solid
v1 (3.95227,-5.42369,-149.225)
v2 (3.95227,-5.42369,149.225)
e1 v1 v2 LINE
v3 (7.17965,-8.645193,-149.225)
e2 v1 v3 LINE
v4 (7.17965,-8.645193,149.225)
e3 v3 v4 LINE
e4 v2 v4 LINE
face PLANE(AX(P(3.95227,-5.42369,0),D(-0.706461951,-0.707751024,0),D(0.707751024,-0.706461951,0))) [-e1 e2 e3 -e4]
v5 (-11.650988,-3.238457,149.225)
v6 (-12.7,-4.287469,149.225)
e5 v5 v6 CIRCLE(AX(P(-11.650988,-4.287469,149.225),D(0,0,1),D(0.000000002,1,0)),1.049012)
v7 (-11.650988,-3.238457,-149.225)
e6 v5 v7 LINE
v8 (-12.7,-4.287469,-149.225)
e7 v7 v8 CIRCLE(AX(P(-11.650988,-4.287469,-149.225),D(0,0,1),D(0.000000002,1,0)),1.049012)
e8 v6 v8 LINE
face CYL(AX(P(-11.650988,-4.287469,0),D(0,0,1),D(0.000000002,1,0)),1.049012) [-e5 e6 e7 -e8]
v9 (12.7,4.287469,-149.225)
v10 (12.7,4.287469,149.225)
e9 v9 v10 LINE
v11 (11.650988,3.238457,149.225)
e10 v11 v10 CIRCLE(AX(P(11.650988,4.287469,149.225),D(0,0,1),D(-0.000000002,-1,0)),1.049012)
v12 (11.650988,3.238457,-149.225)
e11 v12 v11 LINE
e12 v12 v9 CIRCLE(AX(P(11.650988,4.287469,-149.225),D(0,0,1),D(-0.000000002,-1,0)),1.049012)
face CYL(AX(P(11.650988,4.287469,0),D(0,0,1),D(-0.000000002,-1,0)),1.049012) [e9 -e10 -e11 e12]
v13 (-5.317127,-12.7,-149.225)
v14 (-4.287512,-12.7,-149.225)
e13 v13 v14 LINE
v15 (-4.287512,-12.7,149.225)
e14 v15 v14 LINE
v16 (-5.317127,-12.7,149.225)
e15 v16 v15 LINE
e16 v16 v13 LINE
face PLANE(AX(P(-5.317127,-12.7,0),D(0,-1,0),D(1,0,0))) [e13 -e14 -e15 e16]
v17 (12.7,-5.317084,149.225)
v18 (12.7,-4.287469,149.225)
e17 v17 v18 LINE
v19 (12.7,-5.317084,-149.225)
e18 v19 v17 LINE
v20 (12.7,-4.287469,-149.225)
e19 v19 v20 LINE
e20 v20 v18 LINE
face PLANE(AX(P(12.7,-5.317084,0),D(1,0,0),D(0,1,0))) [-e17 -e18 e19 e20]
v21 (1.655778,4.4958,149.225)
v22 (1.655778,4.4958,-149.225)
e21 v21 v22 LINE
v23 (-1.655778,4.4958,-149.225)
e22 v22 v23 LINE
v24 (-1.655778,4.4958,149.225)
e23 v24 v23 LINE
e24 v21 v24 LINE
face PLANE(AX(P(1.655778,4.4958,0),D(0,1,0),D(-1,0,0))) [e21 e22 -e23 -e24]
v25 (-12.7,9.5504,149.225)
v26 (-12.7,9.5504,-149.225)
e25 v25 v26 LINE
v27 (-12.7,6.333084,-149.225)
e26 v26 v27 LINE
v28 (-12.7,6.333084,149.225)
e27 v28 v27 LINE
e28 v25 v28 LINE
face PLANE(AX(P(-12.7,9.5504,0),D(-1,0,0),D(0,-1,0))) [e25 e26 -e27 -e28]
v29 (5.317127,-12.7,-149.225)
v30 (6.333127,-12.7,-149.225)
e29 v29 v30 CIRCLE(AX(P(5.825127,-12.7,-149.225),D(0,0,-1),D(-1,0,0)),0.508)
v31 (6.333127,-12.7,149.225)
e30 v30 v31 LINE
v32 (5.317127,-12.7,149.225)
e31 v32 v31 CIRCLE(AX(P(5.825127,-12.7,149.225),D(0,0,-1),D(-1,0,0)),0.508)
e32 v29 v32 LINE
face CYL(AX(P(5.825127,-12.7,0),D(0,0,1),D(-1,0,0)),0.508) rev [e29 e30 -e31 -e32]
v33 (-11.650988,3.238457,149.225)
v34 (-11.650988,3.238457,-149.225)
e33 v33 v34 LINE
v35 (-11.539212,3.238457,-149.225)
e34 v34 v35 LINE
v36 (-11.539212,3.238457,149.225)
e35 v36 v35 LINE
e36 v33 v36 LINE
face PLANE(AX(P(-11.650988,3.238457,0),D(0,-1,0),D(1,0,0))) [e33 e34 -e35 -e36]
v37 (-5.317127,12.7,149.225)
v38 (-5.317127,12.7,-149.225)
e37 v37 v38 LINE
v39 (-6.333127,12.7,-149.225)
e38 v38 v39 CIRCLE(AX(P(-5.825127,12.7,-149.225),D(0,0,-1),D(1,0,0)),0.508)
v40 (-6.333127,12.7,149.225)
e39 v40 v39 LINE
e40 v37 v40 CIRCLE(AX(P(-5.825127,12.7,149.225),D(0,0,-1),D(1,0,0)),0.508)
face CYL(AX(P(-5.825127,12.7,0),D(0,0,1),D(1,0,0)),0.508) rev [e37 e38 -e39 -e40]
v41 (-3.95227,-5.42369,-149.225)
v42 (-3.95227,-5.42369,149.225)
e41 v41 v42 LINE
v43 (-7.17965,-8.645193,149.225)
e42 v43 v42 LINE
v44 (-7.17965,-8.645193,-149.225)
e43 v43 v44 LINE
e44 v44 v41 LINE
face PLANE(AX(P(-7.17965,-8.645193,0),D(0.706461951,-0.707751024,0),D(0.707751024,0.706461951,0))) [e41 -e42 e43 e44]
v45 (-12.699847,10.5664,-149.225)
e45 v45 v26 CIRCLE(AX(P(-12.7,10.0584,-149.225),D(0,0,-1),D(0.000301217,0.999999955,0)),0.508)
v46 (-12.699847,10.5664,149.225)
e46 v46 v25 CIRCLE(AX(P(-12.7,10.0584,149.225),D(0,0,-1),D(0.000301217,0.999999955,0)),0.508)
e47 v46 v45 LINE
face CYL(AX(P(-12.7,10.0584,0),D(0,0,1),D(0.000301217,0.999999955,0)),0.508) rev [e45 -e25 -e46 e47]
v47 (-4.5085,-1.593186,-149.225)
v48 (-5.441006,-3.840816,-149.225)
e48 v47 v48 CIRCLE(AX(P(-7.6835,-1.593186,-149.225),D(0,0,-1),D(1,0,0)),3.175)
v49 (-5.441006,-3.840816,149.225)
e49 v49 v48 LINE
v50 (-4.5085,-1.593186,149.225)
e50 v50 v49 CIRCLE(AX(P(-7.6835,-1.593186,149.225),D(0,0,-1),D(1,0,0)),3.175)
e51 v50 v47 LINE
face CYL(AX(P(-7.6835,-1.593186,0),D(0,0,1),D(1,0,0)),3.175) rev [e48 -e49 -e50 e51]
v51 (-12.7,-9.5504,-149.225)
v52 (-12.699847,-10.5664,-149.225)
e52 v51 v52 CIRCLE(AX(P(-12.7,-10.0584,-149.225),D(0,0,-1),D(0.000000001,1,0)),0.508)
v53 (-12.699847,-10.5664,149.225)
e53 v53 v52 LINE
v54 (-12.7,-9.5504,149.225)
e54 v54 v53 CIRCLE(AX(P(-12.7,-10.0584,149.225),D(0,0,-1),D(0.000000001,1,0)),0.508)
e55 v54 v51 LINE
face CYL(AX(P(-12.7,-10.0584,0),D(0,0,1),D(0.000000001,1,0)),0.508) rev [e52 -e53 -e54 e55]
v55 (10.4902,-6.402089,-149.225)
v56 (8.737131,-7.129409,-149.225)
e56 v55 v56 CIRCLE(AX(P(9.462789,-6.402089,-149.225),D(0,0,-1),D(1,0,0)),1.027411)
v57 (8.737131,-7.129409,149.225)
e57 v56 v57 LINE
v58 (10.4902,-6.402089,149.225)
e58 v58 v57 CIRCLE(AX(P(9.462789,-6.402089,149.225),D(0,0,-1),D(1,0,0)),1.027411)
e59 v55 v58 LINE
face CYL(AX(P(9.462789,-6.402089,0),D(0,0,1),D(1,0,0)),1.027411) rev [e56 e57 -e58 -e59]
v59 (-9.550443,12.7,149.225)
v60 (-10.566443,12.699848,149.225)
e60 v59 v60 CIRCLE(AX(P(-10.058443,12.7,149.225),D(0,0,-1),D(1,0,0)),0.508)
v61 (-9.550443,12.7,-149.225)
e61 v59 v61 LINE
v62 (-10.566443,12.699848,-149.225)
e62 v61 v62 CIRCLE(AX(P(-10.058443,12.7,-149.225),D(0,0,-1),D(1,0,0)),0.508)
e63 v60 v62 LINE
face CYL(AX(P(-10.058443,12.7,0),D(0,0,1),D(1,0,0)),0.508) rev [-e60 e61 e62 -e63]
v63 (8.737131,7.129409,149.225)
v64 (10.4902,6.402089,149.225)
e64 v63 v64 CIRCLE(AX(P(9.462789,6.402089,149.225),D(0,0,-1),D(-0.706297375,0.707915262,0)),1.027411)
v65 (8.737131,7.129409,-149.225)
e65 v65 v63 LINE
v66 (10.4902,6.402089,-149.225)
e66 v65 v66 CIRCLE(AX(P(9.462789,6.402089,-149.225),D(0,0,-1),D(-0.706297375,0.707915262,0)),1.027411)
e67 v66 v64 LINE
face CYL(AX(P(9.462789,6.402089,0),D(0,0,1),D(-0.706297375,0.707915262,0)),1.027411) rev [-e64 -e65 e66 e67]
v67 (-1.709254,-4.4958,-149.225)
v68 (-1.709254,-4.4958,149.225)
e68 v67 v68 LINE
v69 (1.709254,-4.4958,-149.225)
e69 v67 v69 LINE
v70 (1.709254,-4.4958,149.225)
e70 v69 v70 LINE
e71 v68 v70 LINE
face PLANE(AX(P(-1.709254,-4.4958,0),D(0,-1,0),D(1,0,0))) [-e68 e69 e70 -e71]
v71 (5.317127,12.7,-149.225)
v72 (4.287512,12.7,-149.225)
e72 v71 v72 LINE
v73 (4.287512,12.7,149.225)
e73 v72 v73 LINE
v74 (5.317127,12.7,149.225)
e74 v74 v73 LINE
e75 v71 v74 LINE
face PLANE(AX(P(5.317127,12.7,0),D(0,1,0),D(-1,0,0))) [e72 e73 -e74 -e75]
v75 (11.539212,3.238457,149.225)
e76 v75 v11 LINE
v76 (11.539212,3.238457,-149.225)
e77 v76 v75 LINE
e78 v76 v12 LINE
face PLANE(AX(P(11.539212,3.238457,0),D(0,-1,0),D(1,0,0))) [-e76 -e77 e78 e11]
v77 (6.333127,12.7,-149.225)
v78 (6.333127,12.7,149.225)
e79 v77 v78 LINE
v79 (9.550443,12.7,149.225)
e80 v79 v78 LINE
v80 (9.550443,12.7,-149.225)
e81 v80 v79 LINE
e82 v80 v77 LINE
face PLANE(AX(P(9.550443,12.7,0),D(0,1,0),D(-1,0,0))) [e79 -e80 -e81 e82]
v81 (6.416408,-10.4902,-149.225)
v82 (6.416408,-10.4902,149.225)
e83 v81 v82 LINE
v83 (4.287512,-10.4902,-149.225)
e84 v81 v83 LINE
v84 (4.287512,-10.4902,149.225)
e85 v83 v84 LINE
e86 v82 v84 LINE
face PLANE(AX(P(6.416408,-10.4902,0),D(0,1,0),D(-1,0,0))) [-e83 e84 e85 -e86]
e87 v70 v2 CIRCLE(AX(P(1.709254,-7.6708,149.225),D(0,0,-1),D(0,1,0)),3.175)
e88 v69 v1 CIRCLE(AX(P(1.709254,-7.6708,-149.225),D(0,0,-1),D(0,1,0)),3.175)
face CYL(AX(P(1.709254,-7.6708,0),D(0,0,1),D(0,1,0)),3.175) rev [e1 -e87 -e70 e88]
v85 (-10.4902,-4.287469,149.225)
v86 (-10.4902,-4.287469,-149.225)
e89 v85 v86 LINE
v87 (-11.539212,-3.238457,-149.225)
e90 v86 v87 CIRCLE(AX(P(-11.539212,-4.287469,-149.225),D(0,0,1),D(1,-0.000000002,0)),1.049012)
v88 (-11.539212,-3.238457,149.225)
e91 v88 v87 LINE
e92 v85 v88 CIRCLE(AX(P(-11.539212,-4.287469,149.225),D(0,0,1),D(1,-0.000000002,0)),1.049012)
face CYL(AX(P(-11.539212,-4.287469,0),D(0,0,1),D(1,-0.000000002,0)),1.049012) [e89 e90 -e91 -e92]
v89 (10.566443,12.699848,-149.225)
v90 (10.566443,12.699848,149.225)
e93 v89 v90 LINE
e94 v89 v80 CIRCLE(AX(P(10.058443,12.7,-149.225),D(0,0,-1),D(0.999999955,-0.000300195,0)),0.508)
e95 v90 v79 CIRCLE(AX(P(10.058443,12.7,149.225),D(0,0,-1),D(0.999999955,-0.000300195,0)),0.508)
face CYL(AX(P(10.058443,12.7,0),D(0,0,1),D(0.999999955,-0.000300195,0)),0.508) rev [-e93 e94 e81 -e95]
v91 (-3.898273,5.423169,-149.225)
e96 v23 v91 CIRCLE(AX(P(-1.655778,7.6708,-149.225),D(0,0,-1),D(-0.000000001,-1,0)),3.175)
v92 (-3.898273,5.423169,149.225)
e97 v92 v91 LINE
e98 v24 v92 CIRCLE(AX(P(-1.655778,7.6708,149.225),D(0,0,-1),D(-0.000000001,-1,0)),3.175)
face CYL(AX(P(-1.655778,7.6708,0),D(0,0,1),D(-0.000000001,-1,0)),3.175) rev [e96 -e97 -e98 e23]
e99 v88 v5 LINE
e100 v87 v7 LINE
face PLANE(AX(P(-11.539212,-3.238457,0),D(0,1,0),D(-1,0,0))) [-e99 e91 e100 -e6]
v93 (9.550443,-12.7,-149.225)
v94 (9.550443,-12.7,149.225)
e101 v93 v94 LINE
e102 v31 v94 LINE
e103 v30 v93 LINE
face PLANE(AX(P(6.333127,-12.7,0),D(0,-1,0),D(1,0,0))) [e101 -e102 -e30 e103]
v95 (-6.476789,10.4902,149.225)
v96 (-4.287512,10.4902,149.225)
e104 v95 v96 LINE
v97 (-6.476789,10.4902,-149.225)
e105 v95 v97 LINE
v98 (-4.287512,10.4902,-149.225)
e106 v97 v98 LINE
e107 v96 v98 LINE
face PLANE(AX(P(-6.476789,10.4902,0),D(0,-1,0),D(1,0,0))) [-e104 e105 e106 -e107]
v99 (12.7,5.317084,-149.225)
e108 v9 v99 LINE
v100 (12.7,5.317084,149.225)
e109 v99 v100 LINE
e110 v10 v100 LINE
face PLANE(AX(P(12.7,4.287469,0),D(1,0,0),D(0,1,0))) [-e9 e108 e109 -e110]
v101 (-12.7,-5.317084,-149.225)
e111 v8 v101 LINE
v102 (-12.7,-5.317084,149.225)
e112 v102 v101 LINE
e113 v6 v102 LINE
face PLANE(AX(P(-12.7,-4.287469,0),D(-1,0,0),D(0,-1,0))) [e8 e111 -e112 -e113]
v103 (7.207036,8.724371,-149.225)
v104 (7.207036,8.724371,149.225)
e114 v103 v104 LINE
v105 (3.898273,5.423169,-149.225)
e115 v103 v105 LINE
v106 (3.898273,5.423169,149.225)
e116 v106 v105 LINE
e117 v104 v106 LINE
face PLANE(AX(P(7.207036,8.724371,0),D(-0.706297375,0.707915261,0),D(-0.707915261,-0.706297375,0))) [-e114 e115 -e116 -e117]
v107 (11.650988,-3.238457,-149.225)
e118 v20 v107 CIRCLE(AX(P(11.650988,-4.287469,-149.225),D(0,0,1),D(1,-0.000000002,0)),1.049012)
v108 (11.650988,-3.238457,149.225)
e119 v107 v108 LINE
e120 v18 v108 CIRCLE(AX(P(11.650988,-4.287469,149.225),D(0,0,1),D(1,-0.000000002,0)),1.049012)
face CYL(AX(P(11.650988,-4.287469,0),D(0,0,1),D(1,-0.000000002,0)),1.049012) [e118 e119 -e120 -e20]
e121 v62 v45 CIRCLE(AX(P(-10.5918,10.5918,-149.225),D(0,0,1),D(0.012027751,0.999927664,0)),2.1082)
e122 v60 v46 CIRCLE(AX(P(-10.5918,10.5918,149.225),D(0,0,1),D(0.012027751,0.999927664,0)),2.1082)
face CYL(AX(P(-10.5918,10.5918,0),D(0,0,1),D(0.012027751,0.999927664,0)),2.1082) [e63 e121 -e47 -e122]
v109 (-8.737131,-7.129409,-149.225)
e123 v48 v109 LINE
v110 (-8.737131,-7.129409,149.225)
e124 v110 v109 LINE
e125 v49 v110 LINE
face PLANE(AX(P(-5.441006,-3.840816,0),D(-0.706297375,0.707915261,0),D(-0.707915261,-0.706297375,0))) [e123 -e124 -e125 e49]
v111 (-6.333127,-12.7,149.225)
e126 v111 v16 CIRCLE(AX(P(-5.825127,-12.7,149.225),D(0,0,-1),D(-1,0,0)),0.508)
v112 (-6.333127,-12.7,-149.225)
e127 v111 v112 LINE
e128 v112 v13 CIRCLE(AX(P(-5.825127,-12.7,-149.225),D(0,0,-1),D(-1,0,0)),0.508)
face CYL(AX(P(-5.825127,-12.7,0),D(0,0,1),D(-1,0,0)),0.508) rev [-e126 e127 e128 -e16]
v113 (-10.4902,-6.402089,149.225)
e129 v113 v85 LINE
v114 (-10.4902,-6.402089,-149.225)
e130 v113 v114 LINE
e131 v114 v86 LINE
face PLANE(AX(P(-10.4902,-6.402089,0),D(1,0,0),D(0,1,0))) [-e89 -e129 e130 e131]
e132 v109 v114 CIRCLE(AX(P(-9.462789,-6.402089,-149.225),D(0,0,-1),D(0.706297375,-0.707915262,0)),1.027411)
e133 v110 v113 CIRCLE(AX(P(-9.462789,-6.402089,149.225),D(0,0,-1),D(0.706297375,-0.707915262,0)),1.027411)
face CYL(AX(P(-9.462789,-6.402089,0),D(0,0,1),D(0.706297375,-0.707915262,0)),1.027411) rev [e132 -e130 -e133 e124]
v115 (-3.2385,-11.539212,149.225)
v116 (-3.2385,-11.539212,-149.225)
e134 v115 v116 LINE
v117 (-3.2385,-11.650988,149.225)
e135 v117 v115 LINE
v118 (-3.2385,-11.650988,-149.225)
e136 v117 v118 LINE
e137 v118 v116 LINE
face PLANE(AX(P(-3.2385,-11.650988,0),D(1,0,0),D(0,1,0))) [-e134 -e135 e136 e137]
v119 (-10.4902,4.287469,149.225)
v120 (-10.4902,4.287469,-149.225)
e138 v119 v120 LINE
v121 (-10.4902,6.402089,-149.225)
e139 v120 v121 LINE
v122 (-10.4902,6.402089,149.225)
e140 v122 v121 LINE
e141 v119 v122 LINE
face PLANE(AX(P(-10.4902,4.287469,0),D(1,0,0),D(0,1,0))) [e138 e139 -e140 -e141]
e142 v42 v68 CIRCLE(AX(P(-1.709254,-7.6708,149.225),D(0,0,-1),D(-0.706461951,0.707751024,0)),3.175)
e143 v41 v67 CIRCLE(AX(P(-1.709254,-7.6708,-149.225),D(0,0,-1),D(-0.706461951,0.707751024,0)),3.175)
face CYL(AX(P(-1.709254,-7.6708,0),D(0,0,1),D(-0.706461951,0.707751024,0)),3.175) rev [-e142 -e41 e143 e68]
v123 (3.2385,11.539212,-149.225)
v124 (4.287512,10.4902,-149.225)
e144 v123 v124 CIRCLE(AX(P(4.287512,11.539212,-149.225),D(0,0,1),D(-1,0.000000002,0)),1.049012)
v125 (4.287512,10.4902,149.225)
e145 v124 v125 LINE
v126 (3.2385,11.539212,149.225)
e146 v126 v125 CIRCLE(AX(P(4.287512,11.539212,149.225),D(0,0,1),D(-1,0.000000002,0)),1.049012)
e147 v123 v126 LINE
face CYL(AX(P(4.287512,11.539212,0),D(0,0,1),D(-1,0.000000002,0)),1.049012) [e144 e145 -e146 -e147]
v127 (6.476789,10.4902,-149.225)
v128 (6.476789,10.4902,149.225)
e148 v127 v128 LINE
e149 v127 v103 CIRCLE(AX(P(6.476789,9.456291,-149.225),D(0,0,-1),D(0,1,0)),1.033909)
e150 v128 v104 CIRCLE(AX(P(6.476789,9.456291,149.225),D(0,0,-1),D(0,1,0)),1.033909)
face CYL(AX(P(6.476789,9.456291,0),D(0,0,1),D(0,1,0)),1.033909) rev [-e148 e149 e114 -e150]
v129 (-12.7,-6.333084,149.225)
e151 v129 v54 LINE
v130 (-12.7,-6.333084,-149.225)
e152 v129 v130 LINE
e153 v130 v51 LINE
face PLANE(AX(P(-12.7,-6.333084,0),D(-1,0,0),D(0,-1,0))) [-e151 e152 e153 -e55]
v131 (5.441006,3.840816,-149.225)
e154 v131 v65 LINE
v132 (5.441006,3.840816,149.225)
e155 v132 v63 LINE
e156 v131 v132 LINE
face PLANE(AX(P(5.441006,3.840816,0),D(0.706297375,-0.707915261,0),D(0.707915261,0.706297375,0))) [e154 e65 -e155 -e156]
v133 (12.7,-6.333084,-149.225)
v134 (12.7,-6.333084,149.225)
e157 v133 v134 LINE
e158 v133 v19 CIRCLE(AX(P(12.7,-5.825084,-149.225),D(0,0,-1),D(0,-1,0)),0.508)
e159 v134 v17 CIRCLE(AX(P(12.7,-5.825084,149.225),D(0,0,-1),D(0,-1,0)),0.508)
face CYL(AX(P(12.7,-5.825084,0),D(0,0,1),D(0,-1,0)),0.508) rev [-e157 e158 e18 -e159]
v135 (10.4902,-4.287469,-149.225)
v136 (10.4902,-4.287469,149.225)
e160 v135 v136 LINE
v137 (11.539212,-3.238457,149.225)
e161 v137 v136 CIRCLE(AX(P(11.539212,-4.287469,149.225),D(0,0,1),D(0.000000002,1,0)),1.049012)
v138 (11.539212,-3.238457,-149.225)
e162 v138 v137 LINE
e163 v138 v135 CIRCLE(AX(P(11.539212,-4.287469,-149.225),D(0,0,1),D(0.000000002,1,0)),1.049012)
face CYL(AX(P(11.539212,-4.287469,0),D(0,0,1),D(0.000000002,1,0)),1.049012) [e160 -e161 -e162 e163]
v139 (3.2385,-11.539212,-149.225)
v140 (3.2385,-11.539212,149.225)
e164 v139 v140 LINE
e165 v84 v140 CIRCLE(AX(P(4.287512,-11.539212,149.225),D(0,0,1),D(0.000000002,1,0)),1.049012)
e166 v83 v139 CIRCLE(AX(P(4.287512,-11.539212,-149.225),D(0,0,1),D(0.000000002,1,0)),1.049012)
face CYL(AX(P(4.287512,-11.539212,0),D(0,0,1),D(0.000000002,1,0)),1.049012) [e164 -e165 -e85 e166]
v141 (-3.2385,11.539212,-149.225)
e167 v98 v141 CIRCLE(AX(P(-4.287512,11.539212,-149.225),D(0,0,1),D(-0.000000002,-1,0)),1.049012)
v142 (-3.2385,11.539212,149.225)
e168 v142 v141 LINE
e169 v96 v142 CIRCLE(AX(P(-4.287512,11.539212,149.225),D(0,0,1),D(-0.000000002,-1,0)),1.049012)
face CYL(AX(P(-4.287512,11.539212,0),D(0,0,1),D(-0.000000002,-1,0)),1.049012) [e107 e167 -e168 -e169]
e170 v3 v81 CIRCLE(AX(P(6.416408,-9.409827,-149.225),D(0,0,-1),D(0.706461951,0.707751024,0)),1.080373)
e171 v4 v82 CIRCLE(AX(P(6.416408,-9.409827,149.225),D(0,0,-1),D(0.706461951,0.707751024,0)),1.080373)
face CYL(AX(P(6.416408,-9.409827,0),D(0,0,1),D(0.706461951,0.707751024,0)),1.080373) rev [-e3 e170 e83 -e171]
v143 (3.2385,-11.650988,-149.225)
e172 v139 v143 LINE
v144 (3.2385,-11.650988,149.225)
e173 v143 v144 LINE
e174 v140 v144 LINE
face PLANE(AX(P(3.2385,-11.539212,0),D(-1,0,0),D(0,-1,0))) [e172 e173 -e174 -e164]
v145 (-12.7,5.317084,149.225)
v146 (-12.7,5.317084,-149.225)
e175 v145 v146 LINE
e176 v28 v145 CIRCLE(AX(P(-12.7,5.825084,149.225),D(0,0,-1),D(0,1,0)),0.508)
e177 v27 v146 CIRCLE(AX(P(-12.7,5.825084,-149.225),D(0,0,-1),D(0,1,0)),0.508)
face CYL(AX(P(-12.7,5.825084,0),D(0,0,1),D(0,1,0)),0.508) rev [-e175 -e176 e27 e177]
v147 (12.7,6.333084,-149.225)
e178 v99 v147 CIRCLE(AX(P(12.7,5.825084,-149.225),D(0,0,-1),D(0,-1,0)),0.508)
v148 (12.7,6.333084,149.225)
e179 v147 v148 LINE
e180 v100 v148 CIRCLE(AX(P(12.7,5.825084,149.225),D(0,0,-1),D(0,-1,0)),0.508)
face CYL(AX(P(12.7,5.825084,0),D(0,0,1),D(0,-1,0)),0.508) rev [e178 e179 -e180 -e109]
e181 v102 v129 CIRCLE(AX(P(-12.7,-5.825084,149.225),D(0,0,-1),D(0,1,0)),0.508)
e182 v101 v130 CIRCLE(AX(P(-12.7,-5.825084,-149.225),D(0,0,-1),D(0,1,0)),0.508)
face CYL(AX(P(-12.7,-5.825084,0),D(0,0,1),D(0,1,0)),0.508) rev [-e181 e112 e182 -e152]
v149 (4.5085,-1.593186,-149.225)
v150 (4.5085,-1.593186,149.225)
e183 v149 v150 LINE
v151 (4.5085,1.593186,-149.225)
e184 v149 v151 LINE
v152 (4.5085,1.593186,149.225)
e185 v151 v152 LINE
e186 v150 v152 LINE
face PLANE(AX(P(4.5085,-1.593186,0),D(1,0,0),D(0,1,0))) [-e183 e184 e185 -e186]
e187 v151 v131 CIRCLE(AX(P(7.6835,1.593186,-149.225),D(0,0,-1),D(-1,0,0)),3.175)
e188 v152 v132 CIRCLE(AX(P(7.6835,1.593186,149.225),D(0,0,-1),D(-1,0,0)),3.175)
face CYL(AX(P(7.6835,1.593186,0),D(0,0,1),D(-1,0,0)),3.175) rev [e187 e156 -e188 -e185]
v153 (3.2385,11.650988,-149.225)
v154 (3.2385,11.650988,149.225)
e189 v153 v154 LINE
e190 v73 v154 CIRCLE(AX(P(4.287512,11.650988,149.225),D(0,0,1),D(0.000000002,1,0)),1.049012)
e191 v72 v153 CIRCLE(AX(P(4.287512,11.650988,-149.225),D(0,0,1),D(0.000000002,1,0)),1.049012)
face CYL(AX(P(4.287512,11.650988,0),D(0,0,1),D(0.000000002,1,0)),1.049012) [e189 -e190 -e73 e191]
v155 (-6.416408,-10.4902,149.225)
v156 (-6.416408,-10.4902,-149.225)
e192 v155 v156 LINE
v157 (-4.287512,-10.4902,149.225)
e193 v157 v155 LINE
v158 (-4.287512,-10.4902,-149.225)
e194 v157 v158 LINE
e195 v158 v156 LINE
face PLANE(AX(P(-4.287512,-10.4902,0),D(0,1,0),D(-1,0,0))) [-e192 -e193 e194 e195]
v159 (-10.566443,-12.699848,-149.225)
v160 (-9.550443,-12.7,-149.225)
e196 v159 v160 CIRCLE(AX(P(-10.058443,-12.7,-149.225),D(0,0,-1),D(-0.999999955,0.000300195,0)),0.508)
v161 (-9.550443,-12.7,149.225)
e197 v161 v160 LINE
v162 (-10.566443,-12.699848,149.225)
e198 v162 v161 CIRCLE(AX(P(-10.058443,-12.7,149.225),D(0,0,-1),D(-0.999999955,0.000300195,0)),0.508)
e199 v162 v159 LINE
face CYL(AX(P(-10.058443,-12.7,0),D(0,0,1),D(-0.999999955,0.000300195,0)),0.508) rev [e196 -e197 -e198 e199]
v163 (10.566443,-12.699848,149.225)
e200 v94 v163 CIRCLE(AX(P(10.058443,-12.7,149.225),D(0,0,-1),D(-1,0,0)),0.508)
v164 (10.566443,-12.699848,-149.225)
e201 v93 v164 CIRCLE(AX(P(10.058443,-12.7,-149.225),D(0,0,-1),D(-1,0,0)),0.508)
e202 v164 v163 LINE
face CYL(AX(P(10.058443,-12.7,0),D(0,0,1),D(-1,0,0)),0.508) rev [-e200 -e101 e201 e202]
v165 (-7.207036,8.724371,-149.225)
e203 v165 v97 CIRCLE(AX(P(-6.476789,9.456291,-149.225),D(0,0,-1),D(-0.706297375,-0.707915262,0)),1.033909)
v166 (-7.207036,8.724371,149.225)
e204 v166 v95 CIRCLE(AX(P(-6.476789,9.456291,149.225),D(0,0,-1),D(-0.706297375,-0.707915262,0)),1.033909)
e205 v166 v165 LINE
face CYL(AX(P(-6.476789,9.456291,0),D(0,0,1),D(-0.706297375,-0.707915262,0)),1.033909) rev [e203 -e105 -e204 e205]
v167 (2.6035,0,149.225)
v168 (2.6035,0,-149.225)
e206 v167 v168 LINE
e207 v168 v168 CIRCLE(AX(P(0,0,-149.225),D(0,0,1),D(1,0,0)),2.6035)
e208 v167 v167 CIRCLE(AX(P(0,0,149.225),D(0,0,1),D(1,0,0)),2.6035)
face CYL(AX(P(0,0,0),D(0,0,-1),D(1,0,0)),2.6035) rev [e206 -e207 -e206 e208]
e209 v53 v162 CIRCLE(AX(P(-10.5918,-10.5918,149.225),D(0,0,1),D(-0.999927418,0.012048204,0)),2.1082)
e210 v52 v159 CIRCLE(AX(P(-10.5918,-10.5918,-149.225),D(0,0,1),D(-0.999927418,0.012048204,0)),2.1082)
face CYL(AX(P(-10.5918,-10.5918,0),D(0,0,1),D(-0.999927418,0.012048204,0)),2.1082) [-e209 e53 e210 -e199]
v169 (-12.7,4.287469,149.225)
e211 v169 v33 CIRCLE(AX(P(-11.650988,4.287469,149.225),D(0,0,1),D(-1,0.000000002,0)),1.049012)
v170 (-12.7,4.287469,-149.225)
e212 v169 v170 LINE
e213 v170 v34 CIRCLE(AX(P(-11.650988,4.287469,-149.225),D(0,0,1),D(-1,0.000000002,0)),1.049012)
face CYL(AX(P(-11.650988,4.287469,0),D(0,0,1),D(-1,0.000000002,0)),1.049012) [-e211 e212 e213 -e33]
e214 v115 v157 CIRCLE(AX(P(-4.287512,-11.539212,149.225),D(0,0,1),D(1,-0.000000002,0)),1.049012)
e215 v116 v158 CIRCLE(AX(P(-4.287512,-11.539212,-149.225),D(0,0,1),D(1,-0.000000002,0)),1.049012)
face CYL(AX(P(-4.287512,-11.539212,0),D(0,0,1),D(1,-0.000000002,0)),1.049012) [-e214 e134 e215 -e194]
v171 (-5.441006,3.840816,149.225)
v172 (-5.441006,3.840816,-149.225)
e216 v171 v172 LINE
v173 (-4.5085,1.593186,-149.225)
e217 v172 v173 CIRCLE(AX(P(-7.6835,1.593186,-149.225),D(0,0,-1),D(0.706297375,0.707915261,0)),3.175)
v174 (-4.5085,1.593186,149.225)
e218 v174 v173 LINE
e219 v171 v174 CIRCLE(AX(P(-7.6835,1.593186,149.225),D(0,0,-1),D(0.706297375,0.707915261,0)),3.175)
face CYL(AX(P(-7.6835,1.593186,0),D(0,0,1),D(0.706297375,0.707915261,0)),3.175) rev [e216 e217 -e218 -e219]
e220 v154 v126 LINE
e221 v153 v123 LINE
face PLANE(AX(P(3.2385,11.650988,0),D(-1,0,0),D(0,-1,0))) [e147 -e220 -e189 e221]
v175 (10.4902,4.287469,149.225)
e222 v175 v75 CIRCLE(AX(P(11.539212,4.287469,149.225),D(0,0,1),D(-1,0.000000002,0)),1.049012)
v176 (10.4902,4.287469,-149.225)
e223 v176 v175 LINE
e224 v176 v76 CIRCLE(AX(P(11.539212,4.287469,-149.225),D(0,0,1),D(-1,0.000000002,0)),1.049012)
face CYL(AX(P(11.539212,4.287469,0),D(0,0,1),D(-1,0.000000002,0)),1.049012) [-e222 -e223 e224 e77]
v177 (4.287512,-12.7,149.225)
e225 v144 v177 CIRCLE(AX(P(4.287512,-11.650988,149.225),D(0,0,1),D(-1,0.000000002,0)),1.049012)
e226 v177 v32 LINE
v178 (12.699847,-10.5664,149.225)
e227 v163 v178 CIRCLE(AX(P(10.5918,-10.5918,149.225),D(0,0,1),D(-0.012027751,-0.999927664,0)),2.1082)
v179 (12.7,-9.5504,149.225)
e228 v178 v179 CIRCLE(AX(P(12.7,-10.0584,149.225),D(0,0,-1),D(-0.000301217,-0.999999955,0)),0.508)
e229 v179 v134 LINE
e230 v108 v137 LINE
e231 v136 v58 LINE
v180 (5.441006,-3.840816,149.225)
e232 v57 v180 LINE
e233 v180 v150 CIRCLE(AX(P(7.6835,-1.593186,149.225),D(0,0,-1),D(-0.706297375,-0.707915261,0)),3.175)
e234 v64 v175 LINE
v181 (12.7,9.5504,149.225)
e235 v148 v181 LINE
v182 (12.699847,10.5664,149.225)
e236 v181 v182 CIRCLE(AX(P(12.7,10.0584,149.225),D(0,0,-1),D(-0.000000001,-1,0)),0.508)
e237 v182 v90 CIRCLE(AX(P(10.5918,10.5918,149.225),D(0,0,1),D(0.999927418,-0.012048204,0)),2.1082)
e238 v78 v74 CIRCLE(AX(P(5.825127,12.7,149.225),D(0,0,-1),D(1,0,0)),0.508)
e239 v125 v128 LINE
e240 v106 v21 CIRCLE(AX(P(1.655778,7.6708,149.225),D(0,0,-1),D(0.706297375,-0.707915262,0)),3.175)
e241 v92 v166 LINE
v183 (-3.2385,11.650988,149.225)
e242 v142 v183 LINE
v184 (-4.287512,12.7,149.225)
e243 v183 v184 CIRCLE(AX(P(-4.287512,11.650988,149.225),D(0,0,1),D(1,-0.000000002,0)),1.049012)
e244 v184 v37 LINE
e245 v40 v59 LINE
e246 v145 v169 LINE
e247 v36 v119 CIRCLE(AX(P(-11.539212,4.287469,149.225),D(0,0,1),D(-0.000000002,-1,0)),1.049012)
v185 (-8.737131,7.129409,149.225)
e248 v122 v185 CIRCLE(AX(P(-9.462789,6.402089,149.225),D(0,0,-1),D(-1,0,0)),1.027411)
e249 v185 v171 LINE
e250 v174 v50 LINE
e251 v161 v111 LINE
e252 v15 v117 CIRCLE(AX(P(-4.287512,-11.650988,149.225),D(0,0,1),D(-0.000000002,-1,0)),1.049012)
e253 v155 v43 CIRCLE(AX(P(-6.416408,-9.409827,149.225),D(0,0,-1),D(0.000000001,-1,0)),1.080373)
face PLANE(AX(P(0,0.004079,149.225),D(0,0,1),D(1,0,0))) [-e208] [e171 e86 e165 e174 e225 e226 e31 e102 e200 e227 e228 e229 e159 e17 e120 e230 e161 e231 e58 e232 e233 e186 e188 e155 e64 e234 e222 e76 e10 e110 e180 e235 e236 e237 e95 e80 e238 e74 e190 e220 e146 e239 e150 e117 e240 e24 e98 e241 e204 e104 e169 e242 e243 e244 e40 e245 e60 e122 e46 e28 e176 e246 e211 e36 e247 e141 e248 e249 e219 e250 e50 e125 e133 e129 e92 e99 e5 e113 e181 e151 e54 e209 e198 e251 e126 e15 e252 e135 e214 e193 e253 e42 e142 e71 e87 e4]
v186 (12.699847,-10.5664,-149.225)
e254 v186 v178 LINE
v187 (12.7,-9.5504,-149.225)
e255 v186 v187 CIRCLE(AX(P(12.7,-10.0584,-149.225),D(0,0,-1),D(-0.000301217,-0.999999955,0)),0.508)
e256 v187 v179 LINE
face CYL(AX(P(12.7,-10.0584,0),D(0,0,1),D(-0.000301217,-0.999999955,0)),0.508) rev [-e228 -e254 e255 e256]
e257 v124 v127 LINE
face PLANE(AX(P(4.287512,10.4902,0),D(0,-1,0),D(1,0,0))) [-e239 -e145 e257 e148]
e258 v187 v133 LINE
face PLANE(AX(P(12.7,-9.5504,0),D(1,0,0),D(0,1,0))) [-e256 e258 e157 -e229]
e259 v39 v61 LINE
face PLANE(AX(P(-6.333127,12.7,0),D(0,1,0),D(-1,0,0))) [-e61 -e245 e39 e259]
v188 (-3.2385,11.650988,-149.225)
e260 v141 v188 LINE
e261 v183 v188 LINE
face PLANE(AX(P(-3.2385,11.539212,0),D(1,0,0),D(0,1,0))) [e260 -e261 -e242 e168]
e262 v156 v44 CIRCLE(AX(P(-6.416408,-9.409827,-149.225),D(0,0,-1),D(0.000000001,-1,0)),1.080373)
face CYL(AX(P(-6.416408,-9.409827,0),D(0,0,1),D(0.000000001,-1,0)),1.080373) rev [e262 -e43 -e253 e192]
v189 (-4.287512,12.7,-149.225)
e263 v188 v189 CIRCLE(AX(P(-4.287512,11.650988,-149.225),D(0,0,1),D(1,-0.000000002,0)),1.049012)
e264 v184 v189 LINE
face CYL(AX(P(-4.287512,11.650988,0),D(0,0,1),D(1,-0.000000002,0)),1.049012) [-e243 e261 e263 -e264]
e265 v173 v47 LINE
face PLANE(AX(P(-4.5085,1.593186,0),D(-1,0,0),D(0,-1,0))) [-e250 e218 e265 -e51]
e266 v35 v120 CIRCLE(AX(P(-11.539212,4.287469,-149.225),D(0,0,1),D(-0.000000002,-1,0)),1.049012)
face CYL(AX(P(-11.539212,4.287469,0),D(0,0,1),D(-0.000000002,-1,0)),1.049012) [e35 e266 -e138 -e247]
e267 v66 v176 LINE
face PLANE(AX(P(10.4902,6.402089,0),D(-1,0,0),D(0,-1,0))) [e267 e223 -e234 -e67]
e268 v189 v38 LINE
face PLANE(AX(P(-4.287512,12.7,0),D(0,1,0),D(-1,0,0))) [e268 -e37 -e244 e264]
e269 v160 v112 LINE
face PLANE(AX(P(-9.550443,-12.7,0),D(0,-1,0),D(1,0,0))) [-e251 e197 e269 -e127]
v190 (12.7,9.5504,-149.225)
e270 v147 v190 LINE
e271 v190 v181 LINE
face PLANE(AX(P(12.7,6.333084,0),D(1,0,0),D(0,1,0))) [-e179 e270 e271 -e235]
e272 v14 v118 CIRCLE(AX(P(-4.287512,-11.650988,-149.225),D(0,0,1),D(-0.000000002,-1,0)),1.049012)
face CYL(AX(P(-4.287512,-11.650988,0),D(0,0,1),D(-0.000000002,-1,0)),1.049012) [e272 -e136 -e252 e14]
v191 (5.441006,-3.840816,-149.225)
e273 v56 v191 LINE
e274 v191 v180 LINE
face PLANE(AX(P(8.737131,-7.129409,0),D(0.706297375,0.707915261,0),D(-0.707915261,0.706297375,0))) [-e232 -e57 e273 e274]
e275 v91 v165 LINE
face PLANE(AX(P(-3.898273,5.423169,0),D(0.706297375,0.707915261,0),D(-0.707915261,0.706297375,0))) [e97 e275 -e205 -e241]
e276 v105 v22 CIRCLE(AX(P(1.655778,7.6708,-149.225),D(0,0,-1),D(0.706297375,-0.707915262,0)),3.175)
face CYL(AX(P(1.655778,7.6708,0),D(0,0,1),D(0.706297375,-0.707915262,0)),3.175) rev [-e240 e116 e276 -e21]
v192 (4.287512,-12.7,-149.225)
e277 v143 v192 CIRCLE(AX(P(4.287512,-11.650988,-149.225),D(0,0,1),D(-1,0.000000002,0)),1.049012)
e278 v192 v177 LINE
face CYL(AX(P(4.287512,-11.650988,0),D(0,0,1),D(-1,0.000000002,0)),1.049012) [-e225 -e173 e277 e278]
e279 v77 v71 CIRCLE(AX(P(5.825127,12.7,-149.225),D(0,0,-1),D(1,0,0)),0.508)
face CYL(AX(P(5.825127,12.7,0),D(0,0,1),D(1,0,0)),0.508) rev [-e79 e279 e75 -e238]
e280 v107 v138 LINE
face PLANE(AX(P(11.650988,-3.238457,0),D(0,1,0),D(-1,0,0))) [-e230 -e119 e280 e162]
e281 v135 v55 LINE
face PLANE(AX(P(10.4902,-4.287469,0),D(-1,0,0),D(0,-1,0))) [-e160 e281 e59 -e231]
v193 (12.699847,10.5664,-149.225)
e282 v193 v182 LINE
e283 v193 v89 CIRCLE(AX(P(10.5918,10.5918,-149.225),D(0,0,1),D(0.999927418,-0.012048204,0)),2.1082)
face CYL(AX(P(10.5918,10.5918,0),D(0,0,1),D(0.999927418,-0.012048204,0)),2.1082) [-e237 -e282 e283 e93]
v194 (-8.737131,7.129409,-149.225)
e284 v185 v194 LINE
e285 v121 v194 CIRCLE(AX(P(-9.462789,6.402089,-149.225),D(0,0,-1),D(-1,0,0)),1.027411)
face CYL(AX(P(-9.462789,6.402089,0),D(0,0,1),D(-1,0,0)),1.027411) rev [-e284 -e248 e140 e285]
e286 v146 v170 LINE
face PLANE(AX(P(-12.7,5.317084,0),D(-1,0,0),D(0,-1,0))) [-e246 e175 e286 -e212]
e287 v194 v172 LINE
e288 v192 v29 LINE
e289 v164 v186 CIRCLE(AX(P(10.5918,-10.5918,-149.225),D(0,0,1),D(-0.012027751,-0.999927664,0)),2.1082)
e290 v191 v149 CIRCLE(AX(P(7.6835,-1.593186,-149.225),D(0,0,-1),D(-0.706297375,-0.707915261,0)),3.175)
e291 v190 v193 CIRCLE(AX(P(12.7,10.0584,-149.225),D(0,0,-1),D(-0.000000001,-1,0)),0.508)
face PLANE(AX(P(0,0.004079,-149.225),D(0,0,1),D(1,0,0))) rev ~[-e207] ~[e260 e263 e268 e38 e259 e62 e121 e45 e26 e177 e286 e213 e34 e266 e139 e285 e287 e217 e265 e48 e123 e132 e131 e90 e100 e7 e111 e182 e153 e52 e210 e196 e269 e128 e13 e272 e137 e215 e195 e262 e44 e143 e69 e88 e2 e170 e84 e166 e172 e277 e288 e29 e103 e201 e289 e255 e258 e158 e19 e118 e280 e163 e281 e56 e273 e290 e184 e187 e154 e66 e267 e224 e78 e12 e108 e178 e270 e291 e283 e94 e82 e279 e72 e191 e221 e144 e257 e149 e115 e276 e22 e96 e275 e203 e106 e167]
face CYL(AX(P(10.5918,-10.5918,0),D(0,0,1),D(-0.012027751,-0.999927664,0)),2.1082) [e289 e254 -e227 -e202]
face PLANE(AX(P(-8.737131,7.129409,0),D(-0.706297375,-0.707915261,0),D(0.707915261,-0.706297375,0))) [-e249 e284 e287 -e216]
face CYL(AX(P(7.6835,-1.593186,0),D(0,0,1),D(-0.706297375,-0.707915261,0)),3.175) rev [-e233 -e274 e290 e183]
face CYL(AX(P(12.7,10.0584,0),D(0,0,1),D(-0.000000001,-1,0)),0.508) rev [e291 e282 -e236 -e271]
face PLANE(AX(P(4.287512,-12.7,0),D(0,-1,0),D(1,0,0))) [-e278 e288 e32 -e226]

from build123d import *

# Parameters (mm, degrees)
SKETCH1_R           = 2.6035
BOSS_EXTRUDE1_DEPTH = 149.225


with BuildPart() as part:
    # Sketch1 → Boss-Extrude1 (new body, symmetric)
    with BuildSketch(Plane.XY):
        with BuildLine():
            Line((-7.179650497, -8.645192506), (-3.952270251, -5.423690499))
            ThreePointArc((-3.952270251, -5.423690499), (-2.922936451, -4.736929036), (-1.709253557, -4.4958))
            Line((-1.709253557, -4.4958), (1.709253557, -4.4958))
            ThreePointArc((1.709253557, -4.4958), (2.922936451, -4.736929036), (3.952270251, -5.423690499))
            Line((3.952270251, -5.423690499), (7.179650497, -8.645192506))
            ThreePointArc((7.179650497, -8.645192506), (7.41473083, -9.822813117), (6.416408329, -10.4902))
            Line((6.416408329, -10.4902), (4.287512407, -10.4902))
            ThreePointArc((4.287512407, -10.4902), (3.54574862, -10.79744862), (3.2385, -11.539212407))
            Line((3.2385, -11.539212407), (3.2385, -11.650987593))
            ThreePointArc((3.2385, -11.650987593), (3.54574862, -12.39275138), (4.287512407, -12.7))
            Line((4.287512407, -12.7), (5.317126718, -12.7))
            ThreePointArc((5.317126718, -12.7), (5.825126718, -12.192), (6.333126718, -12.7))
            Line((6.333126718, -12.7), (9.550443118, -12.7))
            ThreePointArc((9.550443118, -12.7), (10.058366869, -12.192000006), (10.566443095, -12.699847501))
            ThreePointArc((10.566443095, -12.699847501), (12.082537762, -12.08250727), (12.699846982, -10.566399977))
            ThreePointArc((12.699846982, -10.566399977), (12.192000006, -10.058323491), (12.7, -9.5504))
            Line((12.7, -9.5504), (12.7, -6.3330836))
            ThreePointArc((12.7, -6.3330836), (12.192, -5.8250836), (12.7, -5.3170836))
            Line((12.7, -5.3170836), (12.7, -4.287469289))
            ThreePointArc((12.7, -4.287469289), (12.39275138, -3.545705502), (11.650987593, -3.238456882))
            Line((11.650987593, -3.238456882), (11.539212407, -3.238456882))
            ThreePointArc((11.539212407, -3.238456882), (10.79744862, -3.545705502), (10.4902, -4.287469289))
            Line((10.4902, -4.287469289), (10.4902, -6.402089023))
            ThreePointArc((10.4902, -6.402089023), (9.856505071, -7.351067942), (8.737131347, -7.129408934))
            Line((8.737131347, -7.129408934), (5.441005833, -3.840816462))
            ThreePointArc((5.441005833, -3.840816462), (4.750877967, -2.809883091), (4.5085, -1.593185507))
            Line((4.5085, -1.593185507), (4.5085, 1.593185507))
            ThreePointArc((4.5085, 1.593185507), (4.750877967, 2.809883091), (5.441005833, 3.840816462))
            Line((5.441005833, 3.840816462), (8.737131347, 7.129408934))
            ThreePointArc((8.737131347, 7.129408934), (9.856505071, 7.351067942), (10.4902, 6.402089023))
            Line((10.4902, 6.402089023), (10.4902, 4.287469289))
            ThreePointArc((10.4902, 4.287469289), (10.79744862, 3.545705502), (11.539212407, 3.238456882))
            Line((11.539212407, 3.238456882), (11.650987593, 3.238456882))
            ThreePointArc((11.650987593, 3.238456882), (12.39275138, 3.545705502), (12.7, 4.287469289))
            Line((12.7, 4.287469289), (12.7, 5.3170836))
            ThreePointArc((12.7, 5.3170836), (12.192, 5.8250836), (12.7, 6.3330836))
            Line((12.7, 6.3330836), (12.7, 9.5504))
            ThreePointArc((12.7, 9.5504), (12.192000006, 10.058323491), (12.699846982, 10.566399977))
            ThreePointArc((12.699846982, 10.566399977), (12.082537762, 12.08250727), (10.566443095, 12.699847501))
            ThreePointArc((10.566443095, 12.699847501), (10.058366869, 12.192000006), (9.550443118, 12.7))
            Line((9.550443118, 12.7), (6.333126718, 12.7))
            ThreePointArc((6.333126718, 12.7), (5.825126718, 12.192), (5.317126718, 12.7))
            Line((5.317126718, 12.7), (4.287512407, 12.7))
            ThreePointArc((4.287512407, 12.7), (3.54574862, 12.39275138), (3.2385, 11.650987593))
            Line((3.2385, 11.650987593), (3.2385, 11.539212407))
            ThreePointArc((3.2385, 11.539212407), (3.54574862, 10.79744862), (4.287512407, 10.4902))
            Line((4.287512407, 10.4902), (6.476788598, 10.4902))
            ThreePointArc((6.476788598, 10.4902), (7.432222385, 9.85140422), (7.207036008, 8.724370562))
            Line((7.207036008, 8.724370562), (3.898272566, 5.423169045))
            ThreePointArc((3.898272566, 5.423169045), (2.869120213, 4.736787962), (1.655778399, 4.4958))
            Line((1.655778399, 4.4958), (-1.655778399, 4.4958))
            ThreePointArc((-1.655778399, 4.4958), (-2.869120213, 4.736787962), (-3.898272566, 5.423169045))
            Line((-3.898272566, 5.423169045), (-7.207036008, 8.724370562))
            ThreePointArc((-7.207036008, 8.724370562), (-7.432222385, 9.85140422), (-6.476788598, 10.4902))
            Line((-6.476788598, 10.4902), (-4.287512407, 10.4902))
            ThreePointArc((-4.287512407, 10.4902), (-3.54574862, 10.79744862), (-3.2385, 11.539212407))
            Line((-3.2385, 11.539212407), (-3.2385, 11.650987593))
            ThreePointArc((-3.2385, 11.650987593), (-3.54574862, 12.39275138), (-4.287512407, 12.7))
            Line((-4.287512407, 12.7), (-5.317126718, 12.7))
            ThreePointArc((-5.317126718, 12.7), (-5.825126718, 12.192), (-6.333126718, 12.7))
            Line((-6.333126718, 12.7), (-9.550443118, 12.7))
            ThreePointArc((-9.550443118, 12.7), (-10.058366869, 12.192000006), (-10.566443095, 12.699847501))
            ThreePointArc((-10.566443095, 12.699847501), (-12.082537762, 12.08250727), (-12.699846982, 10.566399977))
            ThreePointArc((-12.699846982, 10.566399977), (-12.192000006, 10.058323491), (-12.7, 9.5504))
            Line((-12.7, 9.5504), (-12.7, 6.3330836))
            ThreePointArc((-12.7, 6.3330836), (-12.192, 5.8250836), (-12.7, 5.3170836))
            Line((-12.7, 5.3170836), (-12.7, 4.287469289))
            ThreePointArc((-12.7, 4.287469289), (-12.39275138, 3.545705502), (-11.650987593, 3.238456882))
            Line((-11.650987593, 3.238456882), (-11.539212407, 3.238456882))
            ThreePointArc((-11.539212407, 3.238456882), (-10.79744862, 3.545705502), (-10.4902, 4.287469289))
            Line((-10.4902, 4.287469289), (-10.4902, 6.402089023))
            ThreePointArc((-10.4902, 6.402089023), (-9.856505071, 7.351067942), (-8.737131347, 7.129408934))
            Line((-8.737131347, 7.129408934), (-5.441005833, 3.840816462))
            ThreePointArc((-5.441005833, 3.840816462), (-4.750877967, 2.809883091), (-4.5085, 1.593185507))
            Line((-4.5085, 1.593185507), (-4.5085, -1.593185507))
            ThreePointArc((-4.5085, -1.593185507), (-4.750877967, -2.809883091), (-5.441005833, -3.840816462))
            Line((-5.441005833, -3.840816462), (-8.737131347, -7.129408934))
            ThreePointArc((-8.737131347, -7.129408934), (-9.856505071, -7.351067942), (-10.4902, -6.402089023))
            Line((-10.4902, -6.402089023), (-10.4902, -4.287469289))
            ThreePointArc((-10.4902, -4.287469289), (-10.79744862, -3.545705502), (-11.539212407, -3.238456882))
            Line((-11.539212407, -3.238456882), (-11.650987593, -3.238456882))
            ThreePointArc((-11.650987593, -3.238456882), (-12.39275138, -3.545705502), (-12.7, -4.287469289))
            Line((-12.7, -4.287469289), (-12.7, -5.3170836))
            ThreePointArc((-12.7, -5.3170836), (-12.192, -5.8250836), (-12.7, -6.3330836))
            Line((-12.7, -6.3330836), (-12.7, -9.5504))
            ThreePointArc((-12.7, -9.5504), (-12.192000006, -10.058323491), (-12.699846982, -10.566399977))
            ThreePointArc((-12.699846982, -10.566399977), (-12.082537762, -12.08250727), (-10.566443095, -12.699847501))
            ThreePointArc((-10.566443095, -12.699847501), (-10.058366869, -12.192000006), (-9.550443118, -12.7))
            Line((-9.550443118, -12.7), (-6.333126718, -12.7))
            ThreePointArc((-6.333126718, -12.7), (-5.825126718, -12.192), (-5.317126718, -12.7))
            Line((-5.317126718, -12.7), (-4.287512407, -12.7))
            ThreePointArc((-4.287512407, -12.7), (-3.54574862, -12.39275138), (-3.2385, -11.650987593))
            Line((-3.2385, -11.650987593), (-3.2385, -11.539212407))
            ThreePointArc((-3.2385, -11.539212407), (-3.54574862, -10.79744862), (-4.287512407, -10.4902))
            Line((-4.287512407, -10.4902), (-6.416408329, -10.4902))
            ThreePointArc((-6.416408329, -10.4902), (-7.41473083, -9.822813117), (-7.179650497, -8.645192506))
        make_face()
        Circle(SKETCH1_R, mode=Mode.SUBTRACT)
    extrude(amount=BOSS_EXTRUDE1_DEPTH, both=True)


solid = part.part
